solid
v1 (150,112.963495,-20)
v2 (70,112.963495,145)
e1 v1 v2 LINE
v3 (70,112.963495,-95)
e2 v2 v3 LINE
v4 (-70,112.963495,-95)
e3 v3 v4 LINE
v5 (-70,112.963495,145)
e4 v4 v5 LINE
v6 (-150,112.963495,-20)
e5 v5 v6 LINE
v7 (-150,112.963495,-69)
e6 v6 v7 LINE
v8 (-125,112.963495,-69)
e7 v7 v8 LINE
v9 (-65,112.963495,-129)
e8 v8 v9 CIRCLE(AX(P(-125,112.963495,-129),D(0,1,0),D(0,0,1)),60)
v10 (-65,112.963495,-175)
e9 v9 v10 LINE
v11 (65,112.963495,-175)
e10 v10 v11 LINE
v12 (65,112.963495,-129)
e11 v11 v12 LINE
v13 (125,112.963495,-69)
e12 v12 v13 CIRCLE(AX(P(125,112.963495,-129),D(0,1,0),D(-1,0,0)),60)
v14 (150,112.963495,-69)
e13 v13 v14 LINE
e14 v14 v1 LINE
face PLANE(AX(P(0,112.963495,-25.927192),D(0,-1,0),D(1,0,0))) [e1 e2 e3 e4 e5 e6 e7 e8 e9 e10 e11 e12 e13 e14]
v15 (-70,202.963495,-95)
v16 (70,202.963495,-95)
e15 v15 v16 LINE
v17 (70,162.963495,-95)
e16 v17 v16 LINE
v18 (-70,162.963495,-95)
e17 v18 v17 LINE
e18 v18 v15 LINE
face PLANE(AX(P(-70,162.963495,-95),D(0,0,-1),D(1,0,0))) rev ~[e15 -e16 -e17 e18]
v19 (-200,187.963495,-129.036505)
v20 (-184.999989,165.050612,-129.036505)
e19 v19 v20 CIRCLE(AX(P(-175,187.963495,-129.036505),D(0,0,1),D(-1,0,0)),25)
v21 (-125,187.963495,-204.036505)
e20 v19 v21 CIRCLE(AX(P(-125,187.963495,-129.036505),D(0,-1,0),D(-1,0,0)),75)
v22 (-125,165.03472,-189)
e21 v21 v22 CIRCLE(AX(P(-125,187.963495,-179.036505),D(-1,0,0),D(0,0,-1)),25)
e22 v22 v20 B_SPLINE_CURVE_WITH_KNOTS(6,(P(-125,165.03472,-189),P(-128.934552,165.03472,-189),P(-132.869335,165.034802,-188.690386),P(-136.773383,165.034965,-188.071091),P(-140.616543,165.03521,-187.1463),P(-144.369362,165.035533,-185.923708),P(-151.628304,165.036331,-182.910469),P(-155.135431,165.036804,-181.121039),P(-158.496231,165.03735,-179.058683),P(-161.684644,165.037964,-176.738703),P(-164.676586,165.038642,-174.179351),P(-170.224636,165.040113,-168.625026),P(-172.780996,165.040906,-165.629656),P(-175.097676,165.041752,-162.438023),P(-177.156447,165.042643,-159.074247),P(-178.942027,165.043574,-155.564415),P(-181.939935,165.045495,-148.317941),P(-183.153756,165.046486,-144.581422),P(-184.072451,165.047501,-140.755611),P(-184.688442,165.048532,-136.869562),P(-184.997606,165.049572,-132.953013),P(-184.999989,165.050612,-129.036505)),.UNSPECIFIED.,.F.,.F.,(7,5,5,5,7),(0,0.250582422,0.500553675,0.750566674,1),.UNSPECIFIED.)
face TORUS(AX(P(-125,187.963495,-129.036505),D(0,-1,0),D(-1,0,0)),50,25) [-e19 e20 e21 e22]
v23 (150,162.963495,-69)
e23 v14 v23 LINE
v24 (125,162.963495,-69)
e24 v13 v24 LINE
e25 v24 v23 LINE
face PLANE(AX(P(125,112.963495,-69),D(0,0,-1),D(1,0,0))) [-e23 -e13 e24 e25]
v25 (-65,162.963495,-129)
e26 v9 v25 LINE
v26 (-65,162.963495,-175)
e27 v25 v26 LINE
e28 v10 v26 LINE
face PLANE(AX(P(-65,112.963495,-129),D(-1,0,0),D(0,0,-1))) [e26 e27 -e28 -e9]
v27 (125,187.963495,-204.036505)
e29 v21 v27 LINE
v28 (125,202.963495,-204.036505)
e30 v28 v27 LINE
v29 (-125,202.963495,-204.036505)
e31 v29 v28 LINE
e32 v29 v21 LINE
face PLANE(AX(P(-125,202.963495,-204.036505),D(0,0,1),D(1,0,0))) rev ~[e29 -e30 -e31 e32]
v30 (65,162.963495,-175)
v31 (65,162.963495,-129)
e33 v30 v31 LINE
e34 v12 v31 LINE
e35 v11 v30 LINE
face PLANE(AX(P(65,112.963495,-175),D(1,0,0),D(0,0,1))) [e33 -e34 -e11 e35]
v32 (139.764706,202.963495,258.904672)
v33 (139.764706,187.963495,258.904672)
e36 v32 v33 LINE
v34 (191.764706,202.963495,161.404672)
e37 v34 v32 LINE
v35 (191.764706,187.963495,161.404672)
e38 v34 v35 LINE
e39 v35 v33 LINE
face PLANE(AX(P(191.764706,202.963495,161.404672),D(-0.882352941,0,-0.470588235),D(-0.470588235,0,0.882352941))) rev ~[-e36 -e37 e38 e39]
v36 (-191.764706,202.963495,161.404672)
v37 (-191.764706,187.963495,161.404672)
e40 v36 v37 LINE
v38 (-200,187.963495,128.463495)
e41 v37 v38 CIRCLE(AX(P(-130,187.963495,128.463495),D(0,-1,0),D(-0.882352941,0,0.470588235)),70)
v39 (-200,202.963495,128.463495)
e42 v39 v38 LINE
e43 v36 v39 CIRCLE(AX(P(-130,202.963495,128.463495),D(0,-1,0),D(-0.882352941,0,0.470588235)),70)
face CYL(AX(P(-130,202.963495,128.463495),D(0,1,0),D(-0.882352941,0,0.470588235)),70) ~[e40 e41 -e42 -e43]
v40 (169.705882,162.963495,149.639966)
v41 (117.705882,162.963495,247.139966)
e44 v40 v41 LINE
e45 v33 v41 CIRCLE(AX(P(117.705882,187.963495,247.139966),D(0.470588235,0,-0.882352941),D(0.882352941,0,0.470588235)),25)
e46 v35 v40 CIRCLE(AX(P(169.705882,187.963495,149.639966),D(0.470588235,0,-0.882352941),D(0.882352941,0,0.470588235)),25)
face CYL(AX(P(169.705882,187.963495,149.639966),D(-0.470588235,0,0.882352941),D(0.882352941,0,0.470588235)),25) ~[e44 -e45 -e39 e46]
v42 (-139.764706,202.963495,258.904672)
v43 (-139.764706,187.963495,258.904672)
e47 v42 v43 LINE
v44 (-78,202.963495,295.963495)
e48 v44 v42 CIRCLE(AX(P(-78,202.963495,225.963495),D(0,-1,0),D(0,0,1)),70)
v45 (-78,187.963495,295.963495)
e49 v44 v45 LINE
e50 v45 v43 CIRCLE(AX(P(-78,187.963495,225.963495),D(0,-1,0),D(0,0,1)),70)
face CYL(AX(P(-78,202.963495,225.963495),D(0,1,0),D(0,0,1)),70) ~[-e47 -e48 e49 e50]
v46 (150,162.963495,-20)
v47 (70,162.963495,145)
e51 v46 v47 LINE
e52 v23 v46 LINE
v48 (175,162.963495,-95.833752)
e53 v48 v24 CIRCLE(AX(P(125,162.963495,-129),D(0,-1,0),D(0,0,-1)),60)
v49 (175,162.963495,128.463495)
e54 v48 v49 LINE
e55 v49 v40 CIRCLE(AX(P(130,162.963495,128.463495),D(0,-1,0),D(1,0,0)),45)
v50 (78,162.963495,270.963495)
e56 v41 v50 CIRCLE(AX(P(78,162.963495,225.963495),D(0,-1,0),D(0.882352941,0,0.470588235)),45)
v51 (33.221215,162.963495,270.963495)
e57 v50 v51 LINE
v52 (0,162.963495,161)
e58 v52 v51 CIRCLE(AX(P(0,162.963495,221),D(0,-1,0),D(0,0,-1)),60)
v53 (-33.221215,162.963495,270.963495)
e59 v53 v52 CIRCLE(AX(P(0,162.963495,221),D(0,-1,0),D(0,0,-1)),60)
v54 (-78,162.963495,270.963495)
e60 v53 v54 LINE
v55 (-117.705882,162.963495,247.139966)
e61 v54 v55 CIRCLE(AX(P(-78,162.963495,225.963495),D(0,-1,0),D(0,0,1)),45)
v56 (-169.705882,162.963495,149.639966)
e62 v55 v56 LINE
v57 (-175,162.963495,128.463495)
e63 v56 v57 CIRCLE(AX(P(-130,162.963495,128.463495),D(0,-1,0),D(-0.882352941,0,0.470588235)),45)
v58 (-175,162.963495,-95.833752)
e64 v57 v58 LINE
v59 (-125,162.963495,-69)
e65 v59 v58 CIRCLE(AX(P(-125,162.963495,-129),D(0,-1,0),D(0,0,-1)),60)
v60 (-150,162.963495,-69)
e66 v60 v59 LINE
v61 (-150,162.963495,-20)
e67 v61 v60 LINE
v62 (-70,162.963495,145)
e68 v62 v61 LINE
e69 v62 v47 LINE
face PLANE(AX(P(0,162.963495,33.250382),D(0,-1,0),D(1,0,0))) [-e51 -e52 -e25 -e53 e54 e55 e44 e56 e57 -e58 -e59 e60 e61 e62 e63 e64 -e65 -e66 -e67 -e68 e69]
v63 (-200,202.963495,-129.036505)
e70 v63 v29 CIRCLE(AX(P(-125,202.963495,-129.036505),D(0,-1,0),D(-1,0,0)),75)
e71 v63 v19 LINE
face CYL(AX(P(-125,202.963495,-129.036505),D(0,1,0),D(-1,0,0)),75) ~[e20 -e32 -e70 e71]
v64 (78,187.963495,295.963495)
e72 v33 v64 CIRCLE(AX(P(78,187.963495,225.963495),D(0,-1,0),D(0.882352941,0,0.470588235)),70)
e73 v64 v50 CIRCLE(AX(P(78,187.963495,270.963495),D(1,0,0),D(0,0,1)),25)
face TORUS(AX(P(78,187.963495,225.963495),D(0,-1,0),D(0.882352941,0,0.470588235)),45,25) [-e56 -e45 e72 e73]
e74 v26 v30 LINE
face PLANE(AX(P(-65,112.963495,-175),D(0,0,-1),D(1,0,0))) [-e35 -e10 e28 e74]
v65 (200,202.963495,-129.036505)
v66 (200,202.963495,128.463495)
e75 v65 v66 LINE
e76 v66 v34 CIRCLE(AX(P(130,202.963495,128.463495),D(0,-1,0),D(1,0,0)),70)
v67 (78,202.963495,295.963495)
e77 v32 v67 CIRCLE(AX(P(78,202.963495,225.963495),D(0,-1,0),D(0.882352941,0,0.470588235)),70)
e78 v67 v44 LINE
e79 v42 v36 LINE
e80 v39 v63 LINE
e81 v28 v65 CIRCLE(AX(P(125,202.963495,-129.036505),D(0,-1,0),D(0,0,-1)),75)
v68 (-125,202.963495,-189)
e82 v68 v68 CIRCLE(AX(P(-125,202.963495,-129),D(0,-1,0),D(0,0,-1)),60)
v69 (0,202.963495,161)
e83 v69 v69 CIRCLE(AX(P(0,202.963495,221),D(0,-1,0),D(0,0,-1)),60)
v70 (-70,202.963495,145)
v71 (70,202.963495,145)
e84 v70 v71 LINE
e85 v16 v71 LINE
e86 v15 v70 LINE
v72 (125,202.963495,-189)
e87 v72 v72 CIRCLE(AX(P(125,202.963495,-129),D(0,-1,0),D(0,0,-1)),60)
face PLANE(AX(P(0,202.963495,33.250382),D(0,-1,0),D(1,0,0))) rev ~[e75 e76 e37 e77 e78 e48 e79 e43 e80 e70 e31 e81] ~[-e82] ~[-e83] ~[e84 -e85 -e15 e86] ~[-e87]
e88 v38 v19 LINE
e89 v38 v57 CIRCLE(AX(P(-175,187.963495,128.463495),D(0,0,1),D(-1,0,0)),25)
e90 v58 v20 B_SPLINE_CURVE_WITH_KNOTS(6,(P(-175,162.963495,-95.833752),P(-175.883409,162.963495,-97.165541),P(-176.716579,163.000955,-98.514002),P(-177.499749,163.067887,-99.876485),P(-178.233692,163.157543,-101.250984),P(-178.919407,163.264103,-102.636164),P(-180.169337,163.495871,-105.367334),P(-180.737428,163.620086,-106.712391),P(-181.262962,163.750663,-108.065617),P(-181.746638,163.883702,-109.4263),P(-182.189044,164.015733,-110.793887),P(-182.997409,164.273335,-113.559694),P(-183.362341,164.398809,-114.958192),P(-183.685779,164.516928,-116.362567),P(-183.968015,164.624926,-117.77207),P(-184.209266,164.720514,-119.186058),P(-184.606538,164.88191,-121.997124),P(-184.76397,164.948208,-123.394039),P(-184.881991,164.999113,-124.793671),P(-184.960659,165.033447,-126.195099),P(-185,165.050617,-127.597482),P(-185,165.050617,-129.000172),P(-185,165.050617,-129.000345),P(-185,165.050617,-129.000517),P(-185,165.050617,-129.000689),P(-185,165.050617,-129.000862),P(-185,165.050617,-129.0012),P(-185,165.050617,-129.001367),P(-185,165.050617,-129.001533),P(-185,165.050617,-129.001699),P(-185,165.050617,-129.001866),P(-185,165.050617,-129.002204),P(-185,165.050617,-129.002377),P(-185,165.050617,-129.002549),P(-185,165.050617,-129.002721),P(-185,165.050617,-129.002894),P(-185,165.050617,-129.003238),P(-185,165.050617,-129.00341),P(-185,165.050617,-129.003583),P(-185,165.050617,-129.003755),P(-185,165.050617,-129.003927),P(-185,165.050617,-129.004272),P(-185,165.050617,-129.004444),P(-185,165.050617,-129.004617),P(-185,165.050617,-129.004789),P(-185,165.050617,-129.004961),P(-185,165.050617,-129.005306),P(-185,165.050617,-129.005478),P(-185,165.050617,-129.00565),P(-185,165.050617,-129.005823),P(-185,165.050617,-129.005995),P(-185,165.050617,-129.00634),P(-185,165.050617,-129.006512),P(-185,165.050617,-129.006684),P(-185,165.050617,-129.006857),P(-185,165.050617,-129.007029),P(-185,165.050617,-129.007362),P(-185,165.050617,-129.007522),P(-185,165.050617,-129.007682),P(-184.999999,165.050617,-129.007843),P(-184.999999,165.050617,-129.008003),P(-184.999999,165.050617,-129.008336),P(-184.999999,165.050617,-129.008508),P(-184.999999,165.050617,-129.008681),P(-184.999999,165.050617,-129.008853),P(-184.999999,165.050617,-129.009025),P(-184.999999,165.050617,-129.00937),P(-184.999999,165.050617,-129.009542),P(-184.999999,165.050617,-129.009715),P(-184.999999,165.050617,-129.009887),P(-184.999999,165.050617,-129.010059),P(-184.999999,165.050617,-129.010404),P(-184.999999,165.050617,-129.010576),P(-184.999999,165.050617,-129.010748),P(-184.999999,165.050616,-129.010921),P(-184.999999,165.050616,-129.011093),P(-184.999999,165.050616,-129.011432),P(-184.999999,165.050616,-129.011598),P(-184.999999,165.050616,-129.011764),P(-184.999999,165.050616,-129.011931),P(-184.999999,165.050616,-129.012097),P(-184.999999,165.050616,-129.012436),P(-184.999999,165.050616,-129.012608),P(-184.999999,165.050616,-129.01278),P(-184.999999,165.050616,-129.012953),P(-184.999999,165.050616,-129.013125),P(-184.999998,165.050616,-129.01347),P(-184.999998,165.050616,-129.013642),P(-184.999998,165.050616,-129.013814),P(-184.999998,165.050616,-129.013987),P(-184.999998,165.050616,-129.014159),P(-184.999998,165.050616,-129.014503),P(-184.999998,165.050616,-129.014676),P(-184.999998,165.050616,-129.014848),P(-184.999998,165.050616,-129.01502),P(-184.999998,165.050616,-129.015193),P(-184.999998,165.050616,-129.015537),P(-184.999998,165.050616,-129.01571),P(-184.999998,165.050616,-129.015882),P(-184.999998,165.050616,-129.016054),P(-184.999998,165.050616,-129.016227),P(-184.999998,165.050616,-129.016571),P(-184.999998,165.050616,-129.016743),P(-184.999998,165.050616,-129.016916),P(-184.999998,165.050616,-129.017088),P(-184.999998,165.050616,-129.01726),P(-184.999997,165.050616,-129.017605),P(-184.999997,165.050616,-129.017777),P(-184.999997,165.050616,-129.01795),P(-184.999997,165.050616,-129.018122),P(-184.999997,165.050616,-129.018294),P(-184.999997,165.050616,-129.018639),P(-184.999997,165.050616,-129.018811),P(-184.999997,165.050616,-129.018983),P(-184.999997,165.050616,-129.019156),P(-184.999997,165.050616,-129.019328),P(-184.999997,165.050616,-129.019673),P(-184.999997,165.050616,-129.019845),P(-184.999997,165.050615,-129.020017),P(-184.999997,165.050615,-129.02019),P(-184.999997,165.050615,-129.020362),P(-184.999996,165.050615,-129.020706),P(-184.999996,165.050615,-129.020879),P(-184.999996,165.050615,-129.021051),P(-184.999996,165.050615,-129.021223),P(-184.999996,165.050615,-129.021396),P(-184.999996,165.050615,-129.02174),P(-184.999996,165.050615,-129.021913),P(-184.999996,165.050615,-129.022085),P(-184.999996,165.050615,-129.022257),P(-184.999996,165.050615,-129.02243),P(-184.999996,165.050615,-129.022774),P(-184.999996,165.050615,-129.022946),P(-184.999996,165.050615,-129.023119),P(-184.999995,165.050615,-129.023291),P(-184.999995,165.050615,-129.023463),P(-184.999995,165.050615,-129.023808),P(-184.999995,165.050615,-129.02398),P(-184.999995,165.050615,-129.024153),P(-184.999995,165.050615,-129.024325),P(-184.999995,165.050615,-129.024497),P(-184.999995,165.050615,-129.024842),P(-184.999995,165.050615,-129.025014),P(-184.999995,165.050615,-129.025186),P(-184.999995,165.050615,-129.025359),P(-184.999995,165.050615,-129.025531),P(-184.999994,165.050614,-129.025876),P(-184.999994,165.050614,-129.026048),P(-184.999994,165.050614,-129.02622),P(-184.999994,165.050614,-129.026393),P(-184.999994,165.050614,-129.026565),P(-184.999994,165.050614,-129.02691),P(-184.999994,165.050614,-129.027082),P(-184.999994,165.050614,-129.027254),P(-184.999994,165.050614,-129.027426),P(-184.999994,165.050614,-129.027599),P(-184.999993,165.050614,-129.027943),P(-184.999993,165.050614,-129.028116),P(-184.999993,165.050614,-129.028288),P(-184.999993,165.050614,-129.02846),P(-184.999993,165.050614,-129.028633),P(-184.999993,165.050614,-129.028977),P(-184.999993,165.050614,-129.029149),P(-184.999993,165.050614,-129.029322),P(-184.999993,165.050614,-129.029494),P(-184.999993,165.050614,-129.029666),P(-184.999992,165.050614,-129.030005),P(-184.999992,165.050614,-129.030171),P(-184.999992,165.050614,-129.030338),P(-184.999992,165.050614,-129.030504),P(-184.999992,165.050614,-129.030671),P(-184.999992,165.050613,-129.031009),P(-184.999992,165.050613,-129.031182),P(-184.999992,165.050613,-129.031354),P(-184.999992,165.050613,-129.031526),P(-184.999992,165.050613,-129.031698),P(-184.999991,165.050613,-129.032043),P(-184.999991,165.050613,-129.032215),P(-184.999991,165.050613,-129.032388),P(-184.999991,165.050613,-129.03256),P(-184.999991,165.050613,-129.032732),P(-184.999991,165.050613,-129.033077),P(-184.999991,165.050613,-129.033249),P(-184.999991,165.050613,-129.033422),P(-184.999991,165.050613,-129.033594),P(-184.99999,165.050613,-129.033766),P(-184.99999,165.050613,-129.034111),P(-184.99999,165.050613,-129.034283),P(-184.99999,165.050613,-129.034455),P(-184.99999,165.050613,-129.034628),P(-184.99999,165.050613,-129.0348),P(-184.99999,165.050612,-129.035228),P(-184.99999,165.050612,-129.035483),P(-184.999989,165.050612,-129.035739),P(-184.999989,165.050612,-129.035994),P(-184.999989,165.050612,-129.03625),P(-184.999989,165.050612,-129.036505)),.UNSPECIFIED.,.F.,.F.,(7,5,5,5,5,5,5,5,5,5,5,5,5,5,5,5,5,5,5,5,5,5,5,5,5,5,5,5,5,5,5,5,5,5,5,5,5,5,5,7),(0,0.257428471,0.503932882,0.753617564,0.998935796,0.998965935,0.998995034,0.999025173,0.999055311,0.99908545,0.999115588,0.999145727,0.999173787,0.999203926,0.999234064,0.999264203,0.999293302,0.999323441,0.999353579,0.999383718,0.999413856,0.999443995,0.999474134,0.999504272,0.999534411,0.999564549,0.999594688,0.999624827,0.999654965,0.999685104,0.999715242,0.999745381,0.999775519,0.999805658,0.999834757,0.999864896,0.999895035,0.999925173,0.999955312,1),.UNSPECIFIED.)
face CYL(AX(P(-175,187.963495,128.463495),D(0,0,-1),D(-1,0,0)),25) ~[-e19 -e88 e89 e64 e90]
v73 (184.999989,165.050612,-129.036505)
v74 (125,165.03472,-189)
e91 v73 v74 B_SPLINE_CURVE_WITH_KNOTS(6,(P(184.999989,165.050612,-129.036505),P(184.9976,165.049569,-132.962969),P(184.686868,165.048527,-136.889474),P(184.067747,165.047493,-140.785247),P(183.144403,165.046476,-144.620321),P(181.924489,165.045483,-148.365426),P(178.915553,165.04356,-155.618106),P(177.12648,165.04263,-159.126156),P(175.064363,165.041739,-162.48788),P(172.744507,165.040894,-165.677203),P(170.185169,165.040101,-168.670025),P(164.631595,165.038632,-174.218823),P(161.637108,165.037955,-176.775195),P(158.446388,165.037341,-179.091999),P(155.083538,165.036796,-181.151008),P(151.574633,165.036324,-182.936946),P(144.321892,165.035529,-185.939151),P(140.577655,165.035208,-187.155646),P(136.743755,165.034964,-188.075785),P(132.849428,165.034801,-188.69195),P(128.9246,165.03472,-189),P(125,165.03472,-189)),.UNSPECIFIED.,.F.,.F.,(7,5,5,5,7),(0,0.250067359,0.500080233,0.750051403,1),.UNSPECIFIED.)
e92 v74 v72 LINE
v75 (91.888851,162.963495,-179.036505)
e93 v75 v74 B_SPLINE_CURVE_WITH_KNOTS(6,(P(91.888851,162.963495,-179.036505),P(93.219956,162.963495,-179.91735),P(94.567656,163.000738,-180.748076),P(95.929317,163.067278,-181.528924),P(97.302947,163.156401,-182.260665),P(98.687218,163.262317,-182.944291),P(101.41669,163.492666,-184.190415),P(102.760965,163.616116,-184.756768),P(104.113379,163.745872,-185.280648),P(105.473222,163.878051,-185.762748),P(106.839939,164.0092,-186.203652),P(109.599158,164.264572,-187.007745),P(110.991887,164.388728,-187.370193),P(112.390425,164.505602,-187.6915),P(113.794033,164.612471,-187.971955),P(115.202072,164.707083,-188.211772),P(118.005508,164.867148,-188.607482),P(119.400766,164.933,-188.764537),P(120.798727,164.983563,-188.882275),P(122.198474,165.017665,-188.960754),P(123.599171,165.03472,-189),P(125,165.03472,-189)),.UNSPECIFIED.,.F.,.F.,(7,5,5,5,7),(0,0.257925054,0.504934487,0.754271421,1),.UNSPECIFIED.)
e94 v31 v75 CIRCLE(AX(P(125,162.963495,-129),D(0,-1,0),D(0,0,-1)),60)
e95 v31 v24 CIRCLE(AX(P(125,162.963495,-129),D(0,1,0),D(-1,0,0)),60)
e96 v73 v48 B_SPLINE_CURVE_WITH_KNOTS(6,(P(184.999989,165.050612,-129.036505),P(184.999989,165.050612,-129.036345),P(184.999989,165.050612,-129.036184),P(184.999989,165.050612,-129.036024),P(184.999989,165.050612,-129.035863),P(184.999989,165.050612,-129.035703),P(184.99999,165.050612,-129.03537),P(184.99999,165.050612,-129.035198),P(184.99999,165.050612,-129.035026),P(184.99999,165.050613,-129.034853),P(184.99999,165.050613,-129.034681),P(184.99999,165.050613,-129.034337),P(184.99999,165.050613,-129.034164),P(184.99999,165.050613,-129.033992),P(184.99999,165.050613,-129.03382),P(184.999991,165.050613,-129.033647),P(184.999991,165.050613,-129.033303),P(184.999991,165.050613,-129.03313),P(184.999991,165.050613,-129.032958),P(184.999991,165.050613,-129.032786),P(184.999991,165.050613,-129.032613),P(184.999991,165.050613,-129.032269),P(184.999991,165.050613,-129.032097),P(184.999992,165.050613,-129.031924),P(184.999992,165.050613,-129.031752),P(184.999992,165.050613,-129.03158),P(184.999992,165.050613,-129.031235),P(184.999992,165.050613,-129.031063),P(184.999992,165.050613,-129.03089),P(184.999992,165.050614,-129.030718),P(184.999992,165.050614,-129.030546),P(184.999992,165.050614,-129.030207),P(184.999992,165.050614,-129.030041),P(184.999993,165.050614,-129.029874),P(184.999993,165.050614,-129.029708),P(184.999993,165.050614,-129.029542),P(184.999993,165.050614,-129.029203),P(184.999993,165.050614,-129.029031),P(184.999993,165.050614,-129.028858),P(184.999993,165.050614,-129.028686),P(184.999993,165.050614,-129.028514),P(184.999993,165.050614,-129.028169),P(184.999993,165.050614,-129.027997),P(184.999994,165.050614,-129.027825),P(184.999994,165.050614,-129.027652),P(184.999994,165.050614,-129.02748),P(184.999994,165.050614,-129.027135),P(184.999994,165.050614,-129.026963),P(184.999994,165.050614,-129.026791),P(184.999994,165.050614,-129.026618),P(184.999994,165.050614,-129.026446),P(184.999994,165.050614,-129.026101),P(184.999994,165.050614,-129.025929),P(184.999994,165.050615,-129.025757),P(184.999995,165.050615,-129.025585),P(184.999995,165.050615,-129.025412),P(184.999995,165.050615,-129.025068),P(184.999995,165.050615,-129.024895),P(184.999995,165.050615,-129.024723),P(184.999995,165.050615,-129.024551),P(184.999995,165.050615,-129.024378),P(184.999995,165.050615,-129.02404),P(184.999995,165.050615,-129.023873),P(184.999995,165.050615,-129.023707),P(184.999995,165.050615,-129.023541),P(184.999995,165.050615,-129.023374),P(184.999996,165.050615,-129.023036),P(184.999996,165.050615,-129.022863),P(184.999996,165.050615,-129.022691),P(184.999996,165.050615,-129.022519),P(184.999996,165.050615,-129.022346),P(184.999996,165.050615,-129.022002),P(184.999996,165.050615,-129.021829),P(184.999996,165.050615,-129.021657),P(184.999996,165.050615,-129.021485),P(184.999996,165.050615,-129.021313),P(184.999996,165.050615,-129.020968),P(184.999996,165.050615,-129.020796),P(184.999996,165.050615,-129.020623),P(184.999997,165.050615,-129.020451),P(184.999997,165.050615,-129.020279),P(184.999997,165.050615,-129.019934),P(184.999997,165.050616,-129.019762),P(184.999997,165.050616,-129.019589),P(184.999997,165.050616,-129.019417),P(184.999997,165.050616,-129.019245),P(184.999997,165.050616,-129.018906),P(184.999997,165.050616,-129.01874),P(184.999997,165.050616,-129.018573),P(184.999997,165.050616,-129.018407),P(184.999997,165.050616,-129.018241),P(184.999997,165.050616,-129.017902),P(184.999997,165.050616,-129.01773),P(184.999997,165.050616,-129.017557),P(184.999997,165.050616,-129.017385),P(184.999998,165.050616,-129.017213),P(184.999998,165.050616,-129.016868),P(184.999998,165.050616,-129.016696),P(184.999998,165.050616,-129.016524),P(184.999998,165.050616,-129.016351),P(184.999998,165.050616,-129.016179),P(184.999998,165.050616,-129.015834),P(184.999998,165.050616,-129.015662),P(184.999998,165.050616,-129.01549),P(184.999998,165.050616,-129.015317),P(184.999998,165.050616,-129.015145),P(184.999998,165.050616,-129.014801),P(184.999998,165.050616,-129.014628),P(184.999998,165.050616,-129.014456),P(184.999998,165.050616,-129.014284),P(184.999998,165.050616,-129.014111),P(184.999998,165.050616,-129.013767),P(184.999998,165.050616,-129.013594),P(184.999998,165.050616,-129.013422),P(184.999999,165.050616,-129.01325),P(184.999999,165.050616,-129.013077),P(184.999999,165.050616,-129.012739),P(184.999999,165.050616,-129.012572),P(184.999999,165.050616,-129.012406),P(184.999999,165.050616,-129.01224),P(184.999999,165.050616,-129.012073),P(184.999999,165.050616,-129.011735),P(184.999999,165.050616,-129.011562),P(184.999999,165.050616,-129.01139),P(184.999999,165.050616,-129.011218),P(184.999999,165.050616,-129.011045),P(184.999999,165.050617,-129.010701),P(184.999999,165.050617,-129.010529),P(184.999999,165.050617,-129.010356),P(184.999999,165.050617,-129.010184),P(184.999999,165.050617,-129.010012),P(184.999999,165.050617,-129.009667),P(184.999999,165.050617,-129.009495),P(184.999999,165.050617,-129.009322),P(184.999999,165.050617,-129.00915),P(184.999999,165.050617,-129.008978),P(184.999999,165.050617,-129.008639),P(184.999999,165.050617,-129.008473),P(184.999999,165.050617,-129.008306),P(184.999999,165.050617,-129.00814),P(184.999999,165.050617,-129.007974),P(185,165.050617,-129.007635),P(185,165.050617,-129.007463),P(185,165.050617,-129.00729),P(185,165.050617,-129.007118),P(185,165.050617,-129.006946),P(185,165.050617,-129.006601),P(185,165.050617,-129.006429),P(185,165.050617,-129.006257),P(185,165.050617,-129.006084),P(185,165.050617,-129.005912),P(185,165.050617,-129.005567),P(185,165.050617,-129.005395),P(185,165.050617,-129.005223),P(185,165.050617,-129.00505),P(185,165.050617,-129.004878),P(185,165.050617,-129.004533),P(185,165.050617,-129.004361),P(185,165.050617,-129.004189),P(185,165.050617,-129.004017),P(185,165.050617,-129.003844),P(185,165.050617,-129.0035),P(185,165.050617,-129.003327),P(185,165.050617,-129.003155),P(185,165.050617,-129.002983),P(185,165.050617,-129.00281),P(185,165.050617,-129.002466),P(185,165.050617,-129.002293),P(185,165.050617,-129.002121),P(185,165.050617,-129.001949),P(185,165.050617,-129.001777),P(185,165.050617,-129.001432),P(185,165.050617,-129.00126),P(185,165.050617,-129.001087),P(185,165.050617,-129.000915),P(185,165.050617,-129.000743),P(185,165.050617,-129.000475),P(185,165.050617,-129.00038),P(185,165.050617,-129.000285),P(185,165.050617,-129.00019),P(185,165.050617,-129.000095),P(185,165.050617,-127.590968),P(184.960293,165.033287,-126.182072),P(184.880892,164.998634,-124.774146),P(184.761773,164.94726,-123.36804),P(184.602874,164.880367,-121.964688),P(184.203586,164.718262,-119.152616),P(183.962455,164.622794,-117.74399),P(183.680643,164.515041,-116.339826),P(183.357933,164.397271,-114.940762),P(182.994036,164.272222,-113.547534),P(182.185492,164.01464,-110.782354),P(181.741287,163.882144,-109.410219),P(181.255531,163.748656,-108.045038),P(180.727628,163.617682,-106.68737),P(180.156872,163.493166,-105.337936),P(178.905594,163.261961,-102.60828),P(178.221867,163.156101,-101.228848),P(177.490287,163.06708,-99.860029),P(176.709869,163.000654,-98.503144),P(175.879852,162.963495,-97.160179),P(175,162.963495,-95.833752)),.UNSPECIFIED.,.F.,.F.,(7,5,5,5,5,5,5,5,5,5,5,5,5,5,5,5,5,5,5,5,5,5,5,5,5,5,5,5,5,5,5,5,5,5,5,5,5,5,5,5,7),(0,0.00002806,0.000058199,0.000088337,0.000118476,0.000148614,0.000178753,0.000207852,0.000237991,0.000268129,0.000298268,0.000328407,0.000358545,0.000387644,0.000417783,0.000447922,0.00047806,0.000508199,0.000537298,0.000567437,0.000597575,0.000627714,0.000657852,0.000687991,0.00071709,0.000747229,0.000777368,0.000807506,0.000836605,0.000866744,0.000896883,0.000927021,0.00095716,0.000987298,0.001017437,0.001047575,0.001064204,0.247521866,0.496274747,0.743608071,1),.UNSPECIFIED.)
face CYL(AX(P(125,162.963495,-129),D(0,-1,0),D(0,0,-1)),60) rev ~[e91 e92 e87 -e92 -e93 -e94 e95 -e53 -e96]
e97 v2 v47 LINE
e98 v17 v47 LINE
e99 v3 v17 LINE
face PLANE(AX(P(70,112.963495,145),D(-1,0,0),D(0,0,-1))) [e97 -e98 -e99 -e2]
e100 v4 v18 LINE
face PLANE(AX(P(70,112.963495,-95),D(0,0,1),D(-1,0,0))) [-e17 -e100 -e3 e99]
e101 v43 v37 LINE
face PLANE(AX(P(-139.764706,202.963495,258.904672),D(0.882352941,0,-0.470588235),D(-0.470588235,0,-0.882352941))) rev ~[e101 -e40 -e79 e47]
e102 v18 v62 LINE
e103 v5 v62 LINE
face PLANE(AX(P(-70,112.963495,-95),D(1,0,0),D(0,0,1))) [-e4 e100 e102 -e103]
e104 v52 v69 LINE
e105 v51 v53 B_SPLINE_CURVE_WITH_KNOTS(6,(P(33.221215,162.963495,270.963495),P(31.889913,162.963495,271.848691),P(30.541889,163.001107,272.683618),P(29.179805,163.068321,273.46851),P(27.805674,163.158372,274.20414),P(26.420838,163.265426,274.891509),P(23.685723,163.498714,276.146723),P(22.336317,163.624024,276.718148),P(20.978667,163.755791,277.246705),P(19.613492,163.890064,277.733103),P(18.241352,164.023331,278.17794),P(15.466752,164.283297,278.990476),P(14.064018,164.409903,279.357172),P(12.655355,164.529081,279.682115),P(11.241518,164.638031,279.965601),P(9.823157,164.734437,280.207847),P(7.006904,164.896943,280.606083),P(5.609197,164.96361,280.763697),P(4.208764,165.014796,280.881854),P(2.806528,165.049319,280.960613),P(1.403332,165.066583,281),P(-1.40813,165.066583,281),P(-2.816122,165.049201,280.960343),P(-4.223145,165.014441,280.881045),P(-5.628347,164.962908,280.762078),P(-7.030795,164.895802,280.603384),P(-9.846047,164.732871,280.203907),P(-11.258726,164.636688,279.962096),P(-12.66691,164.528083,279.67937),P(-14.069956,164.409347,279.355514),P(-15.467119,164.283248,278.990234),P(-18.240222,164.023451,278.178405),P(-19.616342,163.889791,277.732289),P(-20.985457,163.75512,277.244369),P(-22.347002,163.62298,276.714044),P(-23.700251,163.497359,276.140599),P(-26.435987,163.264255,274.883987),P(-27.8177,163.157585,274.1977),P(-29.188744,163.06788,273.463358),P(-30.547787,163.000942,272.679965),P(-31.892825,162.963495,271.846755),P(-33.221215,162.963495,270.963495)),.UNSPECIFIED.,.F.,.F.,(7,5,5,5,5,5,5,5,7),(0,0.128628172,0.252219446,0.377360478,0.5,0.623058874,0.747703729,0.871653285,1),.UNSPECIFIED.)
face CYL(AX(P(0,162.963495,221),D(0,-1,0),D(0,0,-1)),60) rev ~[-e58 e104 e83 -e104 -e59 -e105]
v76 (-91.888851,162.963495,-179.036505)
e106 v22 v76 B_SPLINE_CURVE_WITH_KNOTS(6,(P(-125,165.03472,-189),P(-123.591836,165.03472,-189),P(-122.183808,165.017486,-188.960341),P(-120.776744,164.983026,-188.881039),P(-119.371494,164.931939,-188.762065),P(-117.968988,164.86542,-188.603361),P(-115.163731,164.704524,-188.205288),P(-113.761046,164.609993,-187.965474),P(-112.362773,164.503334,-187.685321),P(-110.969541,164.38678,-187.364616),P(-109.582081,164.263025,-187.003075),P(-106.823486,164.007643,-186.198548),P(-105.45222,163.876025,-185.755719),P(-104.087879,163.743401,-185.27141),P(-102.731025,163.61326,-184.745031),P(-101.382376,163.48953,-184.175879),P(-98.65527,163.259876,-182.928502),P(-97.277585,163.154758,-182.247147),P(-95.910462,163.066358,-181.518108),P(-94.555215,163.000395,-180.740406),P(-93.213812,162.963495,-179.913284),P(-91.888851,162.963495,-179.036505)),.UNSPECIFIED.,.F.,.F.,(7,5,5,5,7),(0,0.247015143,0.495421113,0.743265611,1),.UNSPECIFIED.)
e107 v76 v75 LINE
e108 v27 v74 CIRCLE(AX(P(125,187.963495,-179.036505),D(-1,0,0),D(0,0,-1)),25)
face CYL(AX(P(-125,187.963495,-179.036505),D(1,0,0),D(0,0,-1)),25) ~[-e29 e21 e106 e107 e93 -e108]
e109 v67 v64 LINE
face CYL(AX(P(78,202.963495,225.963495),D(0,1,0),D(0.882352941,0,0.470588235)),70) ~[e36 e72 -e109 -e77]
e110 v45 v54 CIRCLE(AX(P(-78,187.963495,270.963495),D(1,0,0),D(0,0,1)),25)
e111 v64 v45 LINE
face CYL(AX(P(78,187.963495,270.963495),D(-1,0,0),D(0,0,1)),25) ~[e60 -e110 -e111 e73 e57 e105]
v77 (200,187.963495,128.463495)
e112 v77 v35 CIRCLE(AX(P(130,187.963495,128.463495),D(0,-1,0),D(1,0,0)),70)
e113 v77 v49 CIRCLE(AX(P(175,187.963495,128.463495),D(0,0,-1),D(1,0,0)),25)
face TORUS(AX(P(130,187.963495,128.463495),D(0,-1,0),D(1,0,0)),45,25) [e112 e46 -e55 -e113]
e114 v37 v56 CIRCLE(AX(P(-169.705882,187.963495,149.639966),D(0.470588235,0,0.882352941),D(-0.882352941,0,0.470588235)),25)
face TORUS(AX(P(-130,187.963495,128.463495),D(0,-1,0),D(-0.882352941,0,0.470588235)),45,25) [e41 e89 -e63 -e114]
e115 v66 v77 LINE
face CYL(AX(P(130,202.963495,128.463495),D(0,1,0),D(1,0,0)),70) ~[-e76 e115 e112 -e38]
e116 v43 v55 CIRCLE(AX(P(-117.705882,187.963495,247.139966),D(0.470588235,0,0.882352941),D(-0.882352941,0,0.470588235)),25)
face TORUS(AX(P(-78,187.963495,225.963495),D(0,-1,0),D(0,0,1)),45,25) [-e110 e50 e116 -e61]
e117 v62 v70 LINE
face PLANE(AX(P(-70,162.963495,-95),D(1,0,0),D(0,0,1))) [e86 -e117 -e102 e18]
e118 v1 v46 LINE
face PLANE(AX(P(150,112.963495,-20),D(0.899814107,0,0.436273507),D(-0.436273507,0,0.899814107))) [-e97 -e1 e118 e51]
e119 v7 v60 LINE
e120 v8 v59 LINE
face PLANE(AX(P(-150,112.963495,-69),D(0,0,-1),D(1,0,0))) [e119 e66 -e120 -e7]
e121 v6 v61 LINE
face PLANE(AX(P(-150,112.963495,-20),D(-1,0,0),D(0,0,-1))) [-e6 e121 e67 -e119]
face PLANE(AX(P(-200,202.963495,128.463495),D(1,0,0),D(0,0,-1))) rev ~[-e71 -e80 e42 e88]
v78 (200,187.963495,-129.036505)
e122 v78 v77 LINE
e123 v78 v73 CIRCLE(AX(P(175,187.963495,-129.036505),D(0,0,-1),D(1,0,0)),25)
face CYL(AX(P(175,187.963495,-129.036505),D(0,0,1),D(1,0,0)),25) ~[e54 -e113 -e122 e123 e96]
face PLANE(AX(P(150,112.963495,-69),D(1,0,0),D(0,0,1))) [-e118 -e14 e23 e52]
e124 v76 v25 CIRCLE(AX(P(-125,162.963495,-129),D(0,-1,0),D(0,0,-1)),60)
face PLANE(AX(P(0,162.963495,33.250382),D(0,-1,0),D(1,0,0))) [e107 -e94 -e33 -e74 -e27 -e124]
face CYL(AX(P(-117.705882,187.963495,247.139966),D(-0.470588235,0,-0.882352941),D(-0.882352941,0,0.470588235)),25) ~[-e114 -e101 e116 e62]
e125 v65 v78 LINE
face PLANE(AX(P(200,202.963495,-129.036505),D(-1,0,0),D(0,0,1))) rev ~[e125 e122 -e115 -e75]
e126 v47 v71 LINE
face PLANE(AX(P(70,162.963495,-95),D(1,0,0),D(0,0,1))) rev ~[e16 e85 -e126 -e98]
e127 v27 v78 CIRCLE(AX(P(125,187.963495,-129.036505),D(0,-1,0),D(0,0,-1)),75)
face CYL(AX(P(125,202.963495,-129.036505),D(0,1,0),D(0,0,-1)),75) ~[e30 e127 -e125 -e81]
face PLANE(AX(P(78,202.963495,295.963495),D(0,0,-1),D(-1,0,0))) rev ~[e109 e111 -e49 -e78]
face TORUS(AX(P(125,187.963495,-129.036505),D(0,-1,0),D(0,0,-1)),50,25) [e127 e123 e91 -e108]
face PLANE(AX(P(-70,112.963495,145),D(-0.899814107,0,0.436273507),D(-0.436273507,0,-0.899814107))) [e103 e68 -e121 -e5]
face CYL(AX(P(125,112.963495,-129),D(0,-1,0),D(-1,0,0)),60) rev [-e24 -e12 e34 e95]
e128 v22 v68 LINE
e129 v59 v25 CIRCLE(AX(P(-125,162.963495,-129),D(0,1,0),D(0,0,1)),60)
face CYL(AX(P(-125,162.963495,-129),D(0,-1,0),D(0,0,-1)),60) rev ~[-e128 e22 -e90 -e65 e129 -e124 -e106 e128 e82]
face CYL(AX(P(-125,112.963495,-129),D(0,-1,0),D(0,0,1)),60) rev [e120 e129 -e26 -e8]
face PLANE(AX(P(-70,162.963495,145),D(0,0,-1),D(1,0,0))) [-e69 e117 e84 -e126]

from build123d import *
from build123d.topology import SkipClean

# Parameters (mm, degrees)
BOSS_EXTRUDE1_DEPTH = 40
FILLET1_R           = 25
SKETCH3_R           = 60
SKETCH3_W           = 140
SKETCH3_H           = 240
CUT_EXTRUDE1_DEPTH  = 360.436212163
BOSS_EXTRUDE2_START = 50
BOSS_EXTRUDE2_DEPTH = 50


with BuildPart() as part:
    # Sketch2 → Boss-Extrude1 (new body)
    with BuildSketch(Plane.XZ.offset(-202.963495408)):
        with BuildLine():
            Line((-139.764705882, 258.904671879), (-191.764705882, 161.404671879))
            ThreePointArc((-191.764705882, 161.404671879), (-197.90997501, 145.440989161), (-200, 128.463495408))
            Line((-200, 128.463495408), (-200, -129.036504592))
            ThreePointArc((-200, -129.036504592), (-178.033008589, -182.06951318), (-125, -204.036504592))
            Line((-125, -204.036504592), (125, -204.036504592))
            ThreePointArc((125, -204.036504592), (178.033008589, -182.06951318), (200, -129.036504592))
            Line((200, -129.036504592), (200, 128.463495408))
            ThreePointArc((200, 128.463495408), (197.90997501, 145.440989161), (191.764705882, 161.404671879))
            Line((191.764705882, 161.404671879), (139.764705882, 258.904671879))
            ThreePointArc((139.764705882, 258.904671879), (114.01470288, 285.988000208), (78, 295.963495408))
            Line((78, 295.963495408), (-78, 295.963495408))
            ThreePointArc((-78, 295.963495408), (-114.01470288, 285.988000208), (-139.764705882, 258.904671879))
        make_face()
    extrude(amount=BOSS_EXTRUDE1_DEPTH)

    # Fillet1
    fillet1_edges = [part.edges().sort_by_distance(p)[0] for p in [
        (-197.90997501, 162.963495408, 145.440989161),
        (-200, 162.963495408, -0.286504592),
        (-178.033008589, 162.963495408, -182.06951318),
        (0, 162.963495408, -204.036504592),
        (178.033008589, 162.963495408, -182.06951318),
        (200, 162.963495408, -0.286504592),
        (197.90997501, 162.963495408, 145.440989161),
        (165.764705882, 162.963495408, 210.154671879),
        (114.01470288, 162.963495408, 285.988000208),
        (0, 162.963495408, 295.963495408),
        (-114.01470288, 162.963495408, 285.988000208),
        (-165.764705882, 162.963495408, 210.154671879),
    ]]
    fillet(fillet1_edges, radius=FILLET1_R)

    # Sketch3 → Cut-Extrude1 (cut, through all)
    with BuildSketch(Plane.XZ.offset(-162.963495408)):
        with Locations(Location((0, 221, 0), (0, 0, 270))):
            Circle(SKETCH3_R)
        with Locations(Location((125, -129, 0), (0, 0, 270))):
            Circle(SKETCH3_R)
        with Locations(Location((-125, -129, 0), (0, 0, 270))):
            Circle(SKETCH3_R)
        with Locations((0, 25)):
            Rectangle(SKETCH3_W, SKETCH3_H)
    extrude(amount=-CUT_EXTRUDE1_DEPTH, mode=Mode.SUBTRACT)

    # Sketch4 → Boss-Extrude2 (add)
    with SkipClean():  # the faces are left unmerged after this step: merging them gives an invalid solid
        with BuildSketch(Plane.XZ.offset(-162.963495408).offset(BOSS_EXTRUDE2_START)):
            with BuildLine():
                Line((-70, 145), (-150, -20))
                Line((-150, -20), (-150, -69))
                Line((-150, -69), (-125, -69))
                ThreePointArc((-125, -69), (-82.573593129, -86.573593129), (-65, -129))
                Line((-65, -129), (-65, -175))
                Line((-65, -175), (65, -175))
                Line((65, -175), (65, -129))
                ThreePointArc((65, -129), (82.573593129, -86.573593129), (125, -69))
                Line((125, -69), (150, -69))
                Line((150, -69), (150, -20))
                Line((150, -20), (70, 145))
                Line((70, 145), (70, -95))
                Line((70, -95), (-70, -95))
                Line((-70, -95), (-70, 145))
            make_face()
        extrude(amount=-BOSS_EXTRUDE2_DEPTH)


solid = part.part
